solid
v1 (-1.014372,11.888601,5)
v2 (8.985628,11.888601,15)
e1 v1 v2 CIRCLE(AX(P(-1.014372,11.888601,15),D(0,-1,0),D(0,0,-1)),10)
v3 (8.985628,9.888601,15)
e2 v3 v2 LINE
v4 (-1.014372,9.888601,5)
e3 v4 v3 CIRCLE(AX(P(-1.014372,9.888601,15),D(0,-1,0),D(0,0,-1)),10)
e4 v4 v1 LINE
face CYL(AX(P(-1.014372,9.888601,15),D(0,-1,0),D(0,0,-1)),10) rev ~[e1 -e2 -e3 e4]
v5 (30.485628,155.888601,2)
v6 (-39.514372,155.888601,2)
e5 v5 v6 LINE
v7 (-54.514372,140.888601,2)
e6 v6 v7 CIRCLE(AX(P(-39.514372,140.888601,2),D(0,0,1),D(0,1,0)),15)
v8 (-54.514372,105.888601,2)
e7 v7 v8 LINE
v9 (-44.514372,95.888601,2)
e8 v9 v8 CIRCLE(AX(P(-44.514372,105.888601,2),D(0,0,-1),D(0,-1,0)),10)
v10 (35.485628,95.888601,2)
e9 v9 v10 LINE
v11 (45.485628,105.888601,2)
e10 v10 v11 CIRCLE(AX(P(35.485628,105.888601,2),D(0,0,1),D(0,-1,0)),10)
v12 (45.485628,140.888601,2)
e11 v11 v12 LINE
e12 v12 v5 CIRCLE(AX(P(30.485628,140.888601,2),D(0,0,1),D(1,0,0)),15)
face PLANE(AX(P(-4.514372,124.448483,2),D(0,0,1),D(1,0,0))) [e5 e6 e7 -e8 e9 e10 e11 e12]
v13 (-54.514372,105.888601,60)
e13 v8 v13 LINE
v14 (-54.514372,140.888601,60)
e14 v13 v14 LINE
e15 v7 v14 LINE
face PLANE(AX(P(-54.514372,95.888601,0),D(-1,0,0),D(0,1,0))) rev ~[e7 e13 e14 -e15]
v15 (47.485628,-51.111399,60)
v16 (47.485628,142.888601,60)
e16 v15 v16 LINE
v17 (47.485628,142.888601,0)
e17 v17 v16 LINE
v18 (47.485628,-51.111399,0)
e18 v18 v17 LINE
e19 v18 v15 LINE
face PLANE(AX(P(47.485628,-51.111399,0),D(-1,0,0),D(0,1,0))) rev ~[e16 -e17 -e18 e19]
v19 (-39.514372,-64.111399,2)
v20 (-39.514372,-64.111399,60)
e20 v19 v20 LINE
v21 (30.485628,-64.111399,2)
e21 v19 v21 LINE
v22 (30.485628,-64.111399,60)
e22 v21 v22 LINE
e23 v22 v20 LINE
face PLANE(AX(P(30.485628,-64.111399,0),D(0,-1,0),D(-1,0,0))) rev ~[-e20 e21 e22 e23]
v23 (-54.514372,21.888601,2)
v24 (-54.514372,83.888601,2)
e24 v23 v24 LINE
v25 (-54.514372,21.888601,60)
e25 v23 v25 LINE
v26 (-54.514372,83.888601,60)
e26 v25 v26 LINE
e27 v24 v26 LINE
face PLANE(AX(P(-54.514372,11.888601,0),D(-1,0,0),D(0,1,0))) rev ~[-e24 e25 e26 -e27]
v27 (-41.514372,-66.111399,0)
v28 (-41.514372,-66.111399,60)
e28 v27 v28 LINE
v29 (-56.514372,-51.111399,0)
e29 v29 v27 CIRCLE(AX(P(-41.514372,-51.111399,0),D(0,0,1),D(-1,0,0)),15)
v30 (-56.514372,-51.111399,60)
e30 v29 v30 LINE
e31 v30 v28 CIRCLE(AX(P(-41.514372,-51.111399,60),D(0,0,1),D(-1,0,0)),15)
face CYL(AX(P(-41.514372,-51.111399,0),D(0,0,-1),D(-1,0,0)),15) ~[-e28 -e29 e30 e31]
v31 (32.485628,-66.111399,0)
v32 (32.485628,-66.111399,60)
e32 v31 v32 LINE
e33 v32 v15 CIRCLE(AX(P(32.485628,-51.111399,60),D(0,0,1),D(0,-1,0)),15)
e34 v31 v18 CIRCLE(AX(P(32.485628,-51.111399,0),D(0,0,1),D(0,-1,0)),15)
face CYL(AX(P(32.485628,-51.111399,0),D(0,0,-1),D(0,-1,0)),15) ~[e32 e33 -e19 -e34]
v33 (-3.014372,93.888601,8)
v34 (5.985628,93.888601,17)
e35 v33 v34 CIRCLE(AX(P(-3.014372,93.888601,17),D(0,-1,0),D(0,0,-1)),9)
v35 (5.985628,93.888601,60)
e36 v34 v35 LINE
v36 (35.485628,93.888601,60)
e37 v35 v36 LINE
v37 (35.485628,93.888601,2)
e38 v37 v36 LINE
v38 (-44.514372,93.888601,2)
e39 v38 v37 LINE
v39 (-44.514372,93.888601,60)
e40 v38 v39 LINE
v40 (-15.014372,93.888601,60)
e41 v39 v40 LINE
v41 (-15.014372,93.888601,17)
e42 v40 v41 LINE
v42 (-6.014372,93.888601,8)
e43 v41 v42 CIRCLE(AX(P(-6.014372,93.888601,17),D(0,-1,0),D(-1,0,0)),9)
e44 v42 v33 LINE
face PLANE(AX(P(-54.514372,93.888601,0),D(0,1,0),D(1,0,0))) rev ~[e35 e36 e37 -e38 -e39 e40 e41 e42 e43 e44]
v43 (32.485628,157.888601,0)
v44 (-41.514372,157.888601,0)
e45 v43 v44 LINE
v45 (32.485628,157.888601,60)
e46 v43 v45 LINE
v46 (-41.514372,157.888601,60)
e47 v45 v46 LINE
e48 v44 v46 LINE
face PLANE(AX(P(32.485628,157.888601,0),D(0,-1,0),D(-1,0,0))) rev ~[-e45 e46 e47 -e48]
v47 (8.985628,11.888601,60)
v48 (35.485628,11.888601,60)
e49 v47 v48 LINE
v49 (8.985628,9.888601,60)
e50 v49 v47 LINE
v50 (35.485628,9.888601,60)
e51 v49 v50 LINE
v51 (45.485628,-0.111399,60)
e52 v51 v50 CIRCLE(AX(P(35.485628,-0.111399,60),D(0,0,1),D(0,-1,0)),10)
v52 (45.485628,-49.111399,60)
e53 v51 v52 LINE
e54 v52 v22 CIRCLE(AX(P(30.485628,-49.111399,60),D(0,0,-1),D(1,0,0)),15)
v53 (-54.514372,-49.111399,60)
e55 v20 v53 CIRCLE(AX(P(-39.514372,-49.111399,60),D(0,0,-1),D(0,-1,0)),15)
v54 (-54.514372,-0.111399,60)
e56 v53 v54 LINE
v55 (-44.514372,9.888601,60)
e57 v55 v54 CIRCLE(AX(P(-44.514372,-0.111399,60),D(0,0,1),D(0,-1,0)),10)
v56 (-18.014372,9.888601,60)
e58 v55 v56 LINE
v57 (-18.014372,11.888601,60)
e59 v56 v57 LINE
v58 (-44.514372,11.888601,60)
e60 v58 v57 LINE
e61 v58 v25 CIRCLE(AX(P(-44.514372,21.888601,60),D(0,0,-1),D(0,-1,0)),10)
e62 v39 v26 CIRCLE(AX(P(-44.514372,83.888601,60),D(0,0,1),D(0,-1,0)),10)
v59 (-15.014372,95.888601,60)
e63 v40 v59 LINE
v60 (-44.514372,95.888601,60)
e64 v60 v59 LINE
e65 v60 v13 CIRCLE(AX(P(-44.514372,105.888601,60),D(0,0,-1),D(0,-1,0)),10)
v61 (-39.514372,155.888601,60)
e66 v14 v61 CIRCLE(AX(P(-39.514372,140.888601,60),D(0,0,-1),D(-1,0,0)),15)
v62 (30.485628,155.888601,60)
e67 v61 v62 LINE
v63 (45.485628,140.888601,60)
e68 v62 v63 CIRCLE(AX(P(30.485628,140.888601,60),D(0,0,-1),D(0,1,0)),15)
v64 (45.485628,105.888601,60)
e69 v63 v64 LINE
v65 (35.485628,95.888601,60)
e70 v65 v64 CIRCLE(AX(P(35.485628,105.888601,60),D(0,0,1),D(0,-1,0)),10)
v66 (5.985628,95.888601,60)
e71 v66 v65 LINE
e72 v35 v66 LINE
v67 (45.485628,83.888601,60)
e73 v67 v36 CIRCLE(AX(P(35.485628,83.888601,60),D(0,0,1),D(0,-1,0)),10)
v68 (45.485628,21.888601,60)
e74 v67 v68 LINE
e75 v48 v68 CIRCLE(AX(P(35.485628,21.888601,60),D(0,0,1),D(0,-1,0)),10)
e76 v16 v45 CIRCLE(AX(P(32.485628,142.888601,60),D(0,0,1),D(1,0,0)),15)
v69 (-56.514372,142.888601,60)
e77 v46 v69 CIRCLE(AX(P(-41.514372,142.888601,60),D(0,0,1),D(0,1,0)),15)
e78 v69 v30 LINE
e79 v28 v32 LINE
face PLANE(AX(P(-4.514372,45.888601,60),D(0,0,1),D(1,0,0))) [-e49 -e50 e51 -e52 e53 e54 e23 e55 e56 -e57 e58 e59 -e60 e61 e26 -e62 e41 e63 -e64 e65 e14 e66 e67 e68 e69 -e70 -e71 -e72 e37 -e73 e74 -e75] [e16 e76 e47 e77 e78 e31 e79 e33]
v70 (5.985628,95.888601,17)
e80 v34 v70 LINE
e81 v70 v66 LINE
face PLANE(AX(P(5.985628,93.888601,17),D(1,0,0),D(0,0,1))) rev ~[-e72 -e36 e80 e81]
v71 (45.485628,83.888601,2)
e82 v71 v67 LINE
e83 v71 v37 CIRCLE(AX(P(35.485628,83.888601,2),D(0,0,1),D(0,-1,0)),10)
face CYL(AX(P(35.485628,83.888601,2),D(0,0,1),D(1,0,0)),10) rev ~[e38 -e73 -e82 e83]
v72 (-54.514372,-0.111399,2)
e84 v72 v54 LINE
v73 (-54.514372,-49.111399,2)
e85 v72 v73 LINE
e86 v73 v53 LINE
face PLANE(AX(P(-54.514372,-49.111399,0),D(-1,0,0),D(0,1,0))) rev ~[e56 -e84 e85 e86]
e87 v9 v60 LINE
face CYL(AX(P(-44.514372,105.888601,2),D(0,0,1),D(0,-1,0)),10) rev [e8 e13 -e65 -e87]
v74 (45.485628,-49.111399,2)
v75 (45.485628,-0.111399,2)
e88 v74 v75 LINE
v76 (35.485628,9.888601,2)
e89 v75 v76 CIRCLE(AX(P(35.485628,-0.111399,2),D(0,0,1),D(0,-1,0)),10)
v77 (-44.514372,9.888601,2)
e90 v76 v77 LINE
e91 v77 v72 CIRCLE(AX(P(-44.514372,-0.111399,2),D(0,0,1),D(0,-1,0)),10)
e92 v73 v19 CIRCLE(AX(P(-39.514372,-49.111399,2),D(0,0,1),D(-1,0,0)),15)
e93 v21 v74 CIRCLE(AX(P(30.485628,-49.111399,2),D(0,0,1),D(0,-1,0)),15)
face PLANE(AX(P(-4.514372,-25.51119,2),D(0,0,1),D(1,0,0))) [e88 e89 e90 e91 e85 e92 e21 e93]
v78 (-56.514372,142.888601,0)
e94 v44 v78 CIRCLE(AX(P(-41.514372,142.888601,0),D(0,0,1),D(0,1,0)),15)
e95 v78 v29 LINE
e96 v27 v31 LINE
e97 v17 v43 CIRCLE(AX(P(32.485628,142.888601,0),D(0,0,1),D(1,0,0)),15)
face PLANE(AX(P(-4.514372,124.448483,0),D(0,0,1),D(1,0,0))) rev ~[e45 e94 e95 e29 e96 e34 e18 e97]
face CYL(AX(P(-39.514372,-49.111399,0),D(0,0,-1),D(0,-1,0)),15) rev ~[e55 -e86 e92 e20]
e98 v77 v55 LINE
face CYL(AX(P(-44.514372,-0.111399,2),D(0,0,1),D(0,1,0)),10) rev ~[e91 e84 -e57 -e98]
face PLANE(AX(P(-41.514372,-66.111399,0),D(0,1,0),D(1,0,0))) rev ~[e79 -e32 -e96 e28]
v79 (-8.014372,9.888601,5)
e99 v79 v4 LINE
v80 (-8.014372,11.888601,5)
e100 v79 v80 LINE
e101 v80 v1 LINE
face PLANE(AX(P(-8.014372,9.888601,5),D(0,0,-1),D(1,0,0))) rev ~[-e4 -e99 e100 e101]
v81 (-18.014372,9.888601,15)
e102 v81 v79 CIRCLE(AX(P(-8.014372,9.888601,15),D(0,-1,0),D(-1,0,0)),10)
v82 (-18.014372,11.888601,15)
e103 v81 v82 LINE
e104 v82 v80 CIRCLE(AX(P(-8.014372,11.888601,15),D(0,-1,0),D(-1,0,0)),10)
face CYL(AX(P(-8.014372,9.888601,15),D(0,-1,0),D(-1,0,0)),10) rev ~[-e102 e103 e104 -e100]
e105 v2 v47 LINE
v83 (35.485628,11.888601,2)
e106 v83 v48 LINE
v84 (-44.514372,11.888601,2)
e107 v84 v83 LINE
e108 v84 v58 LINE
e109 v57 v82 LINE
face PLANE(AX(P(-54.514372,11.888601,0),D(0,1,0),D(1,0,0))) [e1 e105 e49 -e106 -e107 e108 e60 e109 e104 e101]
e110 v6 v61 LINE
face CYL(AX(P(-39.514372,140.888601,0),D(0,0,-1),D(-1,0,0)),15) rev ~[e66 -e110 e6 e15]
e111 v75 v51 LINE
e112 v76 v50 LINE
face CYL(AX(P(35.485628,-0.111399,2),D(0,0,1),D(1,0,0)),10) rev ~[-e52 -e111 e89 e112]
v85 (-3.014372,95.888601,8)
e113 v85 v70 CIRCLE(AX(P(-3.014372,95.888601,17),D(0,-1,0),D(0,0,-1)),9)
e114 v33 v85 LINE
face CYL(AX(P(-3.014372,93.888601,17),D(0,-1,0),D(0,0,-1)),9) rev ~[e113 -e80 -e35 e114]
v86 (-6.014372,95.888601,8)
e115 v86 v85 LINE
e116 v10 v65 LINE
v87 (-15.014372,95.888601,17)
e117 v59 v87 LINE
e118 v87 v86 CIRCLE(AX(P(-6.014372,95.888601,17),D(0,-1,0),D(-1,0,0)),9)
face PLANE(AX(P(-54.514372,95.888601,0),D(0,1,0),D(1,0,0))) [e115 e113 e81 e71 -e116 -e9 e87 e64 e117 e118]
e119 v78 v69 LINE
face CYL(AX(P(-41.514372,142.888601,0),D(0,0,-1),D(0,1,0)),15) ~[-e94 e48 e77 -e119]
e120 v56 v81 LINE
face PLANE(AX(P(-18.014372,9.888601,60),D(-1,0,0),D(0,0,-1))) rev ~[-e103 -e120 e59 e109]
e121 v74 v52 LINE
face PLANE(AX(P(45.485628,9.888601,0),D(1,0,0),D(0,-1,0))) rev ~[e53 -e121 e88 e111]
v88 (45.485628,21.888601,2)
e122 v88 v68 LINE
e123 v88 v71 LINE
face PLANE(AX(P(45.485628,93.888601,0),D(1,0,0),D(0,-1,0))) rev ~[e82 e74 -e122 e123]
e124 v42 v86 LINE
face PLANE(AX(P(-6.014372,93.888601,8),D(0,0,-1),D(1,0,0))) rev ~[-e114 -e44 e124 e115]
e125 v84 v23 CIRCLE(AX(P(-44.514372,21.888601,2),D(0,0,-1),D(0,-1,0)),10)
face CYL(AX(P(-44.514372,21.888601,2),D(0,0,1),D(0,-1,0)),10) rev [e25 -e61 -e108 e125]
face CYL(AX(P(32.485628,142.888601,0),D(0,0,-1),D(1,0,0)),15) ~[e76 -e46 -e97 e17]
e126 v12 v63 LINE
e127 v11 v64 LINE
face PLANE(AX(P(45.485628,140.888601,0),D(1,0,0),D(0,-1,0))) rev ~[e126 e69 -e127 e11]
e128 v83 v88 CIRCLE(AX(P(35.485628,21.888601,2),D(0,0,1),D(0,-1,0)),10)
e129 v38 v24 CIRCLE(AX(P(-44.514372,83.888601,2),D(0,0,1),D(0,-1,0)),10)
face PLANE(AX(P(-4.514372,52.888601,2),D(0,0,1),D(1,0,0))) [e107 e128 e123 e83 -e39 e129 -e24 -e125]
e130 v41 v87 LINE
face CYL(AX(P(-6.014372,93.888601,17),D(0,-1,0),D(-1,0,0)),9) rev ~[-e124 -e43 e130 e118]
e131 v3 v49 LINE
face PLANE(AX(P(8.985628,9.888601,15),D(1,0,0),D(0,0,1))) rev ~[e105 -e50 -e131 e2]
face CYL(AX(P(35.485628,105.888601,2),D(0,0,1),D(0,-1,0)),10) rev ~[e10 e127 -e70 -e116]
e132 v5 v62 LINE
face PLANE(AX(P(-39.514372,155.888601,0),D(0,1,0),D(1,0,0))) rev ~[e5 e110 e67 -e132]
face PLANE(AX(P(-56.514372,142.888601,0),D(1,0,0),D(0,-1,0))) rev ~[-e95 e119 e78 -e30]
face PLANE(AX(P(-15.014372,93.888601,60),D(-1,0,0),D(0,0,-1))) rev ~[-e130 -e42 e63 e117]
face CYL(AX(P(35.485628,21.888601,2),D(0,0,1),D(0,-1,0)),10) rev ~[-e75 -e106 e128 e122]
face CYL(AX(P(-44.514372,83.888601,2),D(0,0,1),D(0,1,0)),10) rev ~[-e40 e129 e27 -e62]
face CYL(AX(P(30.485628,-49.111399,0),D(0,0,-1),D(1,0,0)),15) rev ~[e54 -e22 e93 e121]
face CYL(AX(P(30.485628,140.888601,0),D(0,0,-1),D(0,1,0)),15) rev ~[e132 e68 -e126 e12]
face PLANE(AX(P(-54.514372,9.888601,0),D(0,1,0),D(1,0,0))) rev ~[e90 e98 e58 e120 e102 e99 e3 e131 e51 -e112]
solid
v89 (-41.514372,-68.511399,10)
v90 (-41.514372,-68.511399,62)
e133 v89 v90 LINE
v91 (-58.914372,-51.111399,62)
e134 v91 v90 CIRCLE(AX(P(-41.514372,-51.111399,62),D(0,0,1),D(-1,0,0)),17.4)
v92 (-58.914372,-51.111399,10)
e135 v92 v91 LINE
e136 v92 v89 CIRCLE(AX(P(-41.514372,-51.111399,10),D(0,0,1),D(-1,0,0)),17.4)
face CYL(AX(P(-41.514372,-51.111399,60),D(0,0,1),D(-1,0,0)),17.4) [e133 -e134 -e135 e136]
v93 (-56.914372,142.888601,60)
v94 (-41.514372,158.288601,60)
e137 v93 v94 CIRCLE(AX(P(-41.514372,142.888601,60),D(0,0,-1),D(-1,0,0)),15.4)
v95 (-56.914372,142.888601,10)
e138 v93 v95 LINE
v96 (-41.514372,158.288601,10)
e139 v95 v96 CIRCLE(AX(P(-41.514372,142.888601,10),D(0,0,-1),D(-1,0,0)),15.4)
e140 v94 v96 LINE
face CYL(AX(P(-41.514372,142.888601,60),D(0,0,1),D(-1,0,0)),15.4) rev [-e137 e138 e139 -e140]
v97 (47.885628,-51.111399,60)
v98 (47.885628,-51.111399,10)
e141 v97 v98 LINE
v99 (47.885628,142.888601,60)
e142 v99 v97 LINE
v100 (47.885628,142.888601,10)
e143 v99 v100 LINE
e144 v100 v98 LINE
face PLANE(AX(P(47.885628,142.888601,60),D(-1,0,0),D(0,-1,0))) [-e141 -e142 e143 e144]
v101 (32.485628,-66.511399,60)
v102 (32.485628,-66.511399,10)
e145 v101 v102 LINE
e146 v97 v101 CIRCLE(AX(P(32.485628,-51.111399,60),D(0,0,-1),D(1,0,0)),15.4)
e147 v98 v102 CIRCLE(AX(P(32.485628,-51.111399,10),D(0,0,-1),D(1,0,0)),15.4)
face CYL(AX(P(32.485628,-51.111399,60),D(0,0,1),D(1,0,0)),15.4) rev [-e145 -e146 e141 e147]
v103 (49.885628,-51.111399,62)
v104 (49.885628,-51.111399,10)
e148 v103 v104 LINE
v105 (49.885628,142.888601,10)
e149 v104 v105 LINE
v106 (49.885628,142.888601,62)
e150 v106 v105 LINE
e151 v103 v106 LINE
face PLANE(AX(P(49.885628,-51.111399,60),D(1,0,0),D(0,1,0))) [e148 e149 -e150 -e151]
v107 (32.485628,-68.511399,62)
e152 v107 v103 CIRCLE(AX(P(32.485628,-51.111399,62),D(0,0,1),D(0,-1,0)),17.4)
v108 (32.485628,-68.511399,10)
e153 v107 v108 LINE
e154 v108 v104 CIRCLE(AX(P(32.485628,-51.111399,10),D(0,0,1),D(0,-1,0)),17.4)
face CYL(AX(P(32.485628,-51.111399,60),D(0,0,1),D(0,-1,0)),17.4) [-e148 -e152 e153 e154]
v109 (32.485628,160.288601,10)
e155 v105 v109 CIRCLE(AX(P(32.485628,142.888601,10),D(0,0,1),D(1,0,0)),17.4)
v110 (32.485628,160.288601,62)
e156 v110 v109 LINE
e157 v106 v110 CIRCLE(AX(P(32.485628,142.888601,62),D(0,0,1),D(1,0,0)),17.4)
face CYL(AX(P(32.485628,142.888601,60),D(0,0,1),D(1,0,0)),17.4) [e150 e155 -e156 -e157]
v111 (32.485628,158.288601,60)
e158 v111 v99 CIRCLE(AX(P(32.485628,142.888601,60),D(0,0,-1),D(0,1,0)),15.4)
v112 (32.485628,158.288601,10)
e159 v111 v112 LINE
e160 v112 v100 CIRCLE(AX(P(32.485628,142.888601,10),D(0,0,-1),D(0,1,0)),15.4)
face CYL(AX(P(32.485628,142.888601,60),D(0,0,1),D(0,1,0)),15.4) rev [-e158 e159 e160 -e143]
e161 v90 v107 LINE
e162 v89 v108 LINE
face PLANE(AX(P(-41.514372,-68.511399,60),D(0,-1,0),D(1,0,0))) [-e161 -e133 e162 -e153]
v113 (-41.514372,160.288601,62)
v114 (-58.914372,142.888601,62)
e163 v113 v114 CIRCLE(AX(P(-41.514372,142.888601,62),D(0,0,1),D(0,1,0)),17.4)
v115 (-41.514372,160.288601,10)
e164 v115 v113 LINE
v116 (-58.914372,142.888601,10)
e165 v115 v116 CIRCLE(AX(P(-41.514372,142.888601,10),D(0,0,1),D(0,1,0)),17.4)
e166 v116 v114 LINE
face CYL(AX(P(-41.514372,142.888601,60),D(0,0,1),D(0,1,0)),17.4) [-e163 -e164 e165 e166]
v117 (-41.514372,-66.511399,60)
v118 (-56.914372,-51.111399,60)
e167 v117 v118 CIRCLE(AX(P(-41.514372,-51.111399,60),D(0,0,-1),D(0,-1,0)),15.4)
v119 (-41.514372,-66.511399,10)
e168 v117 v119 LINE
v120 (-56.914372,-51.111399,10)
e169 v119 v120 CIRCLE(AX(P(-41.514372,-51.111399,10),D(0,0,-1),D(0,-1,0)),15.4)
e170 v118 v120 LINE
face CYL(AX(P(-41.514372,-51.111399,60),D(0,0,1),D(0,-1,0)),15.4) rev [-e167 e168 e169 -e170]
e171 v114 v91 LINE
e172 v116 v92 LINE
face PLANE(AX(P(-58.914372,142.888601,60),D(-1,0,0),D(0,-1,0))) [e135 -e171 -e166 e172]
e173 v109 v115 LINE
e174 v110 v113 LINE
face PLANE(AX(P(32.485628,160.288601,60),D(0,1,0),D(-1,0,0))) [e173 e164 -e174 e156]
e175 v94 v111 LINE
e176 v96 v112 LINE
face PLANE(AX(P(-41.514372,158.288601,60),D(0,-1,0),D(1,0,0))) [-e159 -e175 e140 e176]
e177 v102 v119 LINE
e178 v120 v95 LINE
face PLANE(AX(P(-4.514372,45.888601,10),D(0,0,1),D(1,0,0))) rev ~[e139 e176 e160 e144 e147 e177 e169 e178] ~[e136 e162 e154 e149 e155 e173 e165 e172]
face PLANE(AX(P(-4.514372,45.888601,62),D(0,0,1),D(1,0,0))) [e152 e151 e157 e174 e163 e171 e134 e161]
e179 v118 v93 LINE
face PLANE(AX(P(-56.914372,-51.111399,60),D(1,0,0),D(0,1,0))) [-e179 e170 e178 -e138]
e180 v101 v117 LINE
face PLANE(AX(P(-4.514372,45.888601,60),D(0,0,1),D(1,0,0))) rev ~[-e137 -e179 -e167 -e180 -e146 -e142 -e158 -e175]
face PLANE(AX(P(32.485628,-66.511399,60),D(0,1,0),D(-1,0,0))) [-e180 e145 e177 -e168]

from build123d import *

# Parameters (mm, degrees)
F0_W      = 100
F0_H      = 2
F1_DEPTH  = 60
F0_H_2    = 82
F2_DEPTH  = 2
F4_DEPTH  = 2
F6_DEPTH  = 2
F7_R      = 10
F9_DEPTH  = 2
F10_DEPTH = 50


with BuildPart() as f1:
    # F0 (on Top) → F1 (new body)
    with BuildSketch(Plane.XY):
        with BuildLine():
            ThreePointArc((-41.5143723786, 157.8886009157), (-52.1209740964, 153.4952026335), (-56.5143723786, 142.8886009157))
            Line((-56.5143723786, 142.8886009157), (-56.5143723786, -51.1113990843))
            ThreePointArc((-56.5143723786, -51.1113990843), (-52.1209740964, -61.7180008021), (-41.5143723786, -66.1113990843))
            Line((-41.5143723786, -66.1113990843), (32.4856276214, -66.1113990843))
            ThreePointArc((32.4856276214, -66.1113990843), (43.0922293392, -61.7180008021), (47.4856276214, -51.1113990843))
            Line((47.4856276214, -51.1113990843), (47.4856276214, 142.8886009157))
            ThreePointArc((47.4856276214, 142.8886009157), (43.0922293392, 153.4952026335), (32.4856276214, 157.8886009157))
            Line((32.4856276214, 157.8886009157), (-41.5143723786, 157.8886009157))
        make_face()
        with BuildLine():
            ThreePointArc((-54.5143723786, 140.8886009157), (-50.1209740964, 151.4952026335), (-39.5143723786, 155.8886009157))
            Line((-39.5143723786, 155.8886009157), (30.4856276214, 155.8886009157))
            ThreePointArc((30.4856276214, 155.8886009157), (41.0922293392, 151.4952026335), (45.4856276214, 140.8886009157))
            Line((45.4856276214, 140.8886009157), (45.4856276214, 95.8886009157))
            Line((45.4856276214, 95.8886009157), (45.4856276214, 93.8886009157))
            Line((45.4856276214, 93.8886009157), (45.4856276214, 11.8886009157))
            Line((45.4856276214, 11.8886009157), (45.4856276214, 9.8886009157))
            Line((45.4856276214, 9.8886009157), (45.4856276214, -49.1113990843))
            ThreePointArc((45.4856276214, -49.1113990843), (41.0922293392, -59.7180008021), (30.4856276214, -64.1113990843))
            Line((30.4856276214, -64.1113990843), (-39.5143723786, -64.1113990843))
            ThreePointArc((-39.5143723786, -64.1113990843), (-50.1209740964, -59.7180008021), (-54.5143723786, -49.1113990843))
            Line((-54.5143723786, -49.1113990843), (-54.5143723786, 9.8886009157))
            Line((-54.5143723786, 9.8886009157), (-54.5143723786, 11.8886009157))
            Line((-54.5143723786, 11.8886009157), (-54.5143723786, 93.8886009157))
            Line((-54.5143723786, 93.8886009157), (-54.5143723786, 95.8886009157))
            Line((-54.5143723786, 95.8886009157), (-54.5143723786, 140.8886009157))
        make_face(mode=Mode.SUBTRACT)
        with Locations((-4.5143723786, 94.8886009157)):
            Rectangle(F0_W, F0_H)
        with Locations((-4.5143723786, 10.8886009157)):
            Rectangle(F0_W, F0_H)
    extrude(amount=F1_DEPTH)

    # F0 (on Top) → F2 (join)
    with BuildSketch(Plane.XY):
        with BuildLine():
            Line((30.4856276214, 155.8886009157), (-39.5143723786, 155.8886009157))
            ThreePointArc((-39.5143723786, 155.8886009157), (-50.1209740964, 151.4952026335), (-54.5143723786, 140.8886009157))
            Line((-54.5143723786, 140.8886009157), (-54.5143723786, 95.8886009157))
            Line((-54.5143723786, 95.8886009157), (45.4856276214, 95.8886009157))
            Line((45.4856276214, 95.8886009157), (45.4856276214, 140.8886009157))
            ThreePointArc((45.4856276214, 140.8886009157), (41.0922293392, 151.4952026335), (30.4856276214, 155.8886009157))
        make_face()
        with Locations((-4.5143723786, 52.8886009157)):
            Rectangle(F0_W, F0_H_2)
        with BuildLine():
            Line((45.4856276214, 9.8886009157), (-54.5143723786, 9.8886009157))
            Line((-54.5143723786, 9.8886009157), (-54.5143723786, -49.1113990843))
            ThreePointArc((-54.5143723786, -49.1113990843), (-50.1209740964, -59.7180008021), (-39.5143723786, -64.1113990843))
            Line((-39.5143723786, -64.1113990843), (30.4856276214, -64.1113990843))
            ThreePointArc((30.4856276214, -64.1113990843), (41.0922293392, -59.7180008021), (45.4856276214, -49.1113990843))
            Line((45.4856276214, -49.1113990843), (45.4856276214, 9.8886009157))
        make_face()
    extrude(amount=F2_DEPTH)

    # F3 (on face) → F4 (cut, through all)
    with BuildSketch(Plane.XZ.offset(-9.8886009157)):
        with BuildLine():
            Line((8.9856276214, 60), (-18.0143723786, 60))
            Line((-18.0143723786, 60), (-18.0143723786, 15))
            ThreePointArc((-18.0143723786, 15), (-15.0854401905, 7.9289321881), (-8.0143723786, 5))
            Line((-8.0143723786, 5), (-1.0143723786, 5))
            ThreePointArc((-1.0143723786, 5), (6.0566954333, 7.9289321881), (8.9856276214, 15))
            Line((8.9856276214, 15), (8.9856276214, 60))
        make_face()
    extrude(amount=-F4_DEPTH, mode=Mode.SUBTRACT)

    # F5 (on face) → F6 (cut, through all)
    with BuildSketch(Plane.XZ.offset(-93.8886009157)):
        with BuildLine():
            Line((5.9856276214, 60), (-15.0143723786, 60))
            Line((-15.0143723786, 60), (-15.0143723786, 17))
            ThreePointArc((-15.0143723786, 17), (-12.3783334093, 10.6360389693), (-6.0143723786, 8))
            Line((-6.0143723786, 8), (-3.0143723786, 8))
            ThreePointArc((-3.0143723786, 8), (3.3495886521, 10.6360389693), (5.9856276214, 17))
            Line((5.9856276214, 17), (5.9856276214, 60))
        make_face()
    extrude(amount=-F6_DEPTH, mode=Mode.SUBTRACT)

    # F7
    f7_edges = [f1.edges().sort_by_distance(p)[0] for p in [
        (-54.514372, 9.888601, 31),
        (45.485628, 9.888601, 31),
        (-54.514372, 11.888601, 31),
        (45.485628, 11.888601, 31),
        (-54.514372, 93.888601, 31),
        (45.485628, 93.888601, 31),
        (45.485628, 95.888601, 31),
        (-54.514372, 95.888601, 31),
    ]]
    fillet(f7_edges, radius=F7_R)


with BuildPart() as f9:
    # F8 (on face) → F9 (new body)
    with BuildSketch(Plane.XY.offset(60)):
        with BuildLine():
            Line((32.4856276214, 160.2886009157), (-41.5143723786, 160.2886009157))
            ThreePointArc((-41.5143723786, 160.2886009157), (-53.8180303712, 155.1922589083), (-58.9143723786, 142.8886009157))
            Line((-58.9143723786, 142.8886009157), (-58.9143723786, -51.1113990843))
            ThreePointArc((-58.9143723786, -51.1113990843), (-53.8180303712, -63.415057077), (-41.5143723786, -68.5113990843))
            Line((-41.5143723786, -68.5113990843), (32.4856276214, -68.5113990843))
            ThreePointArc((32.4856276214, -68.5113990843), (44.7892856141, -63.415057077), (49.8856276214, -51.1113990843))
            Line((49.8856276214, -51.1113990843), (49.8856276214, 142.8886009157))
            ThreePointArc((49.8856276214, 142.8886009157), (44.7892856141, 155.1922589083), (32.4856276214, 160.2886009157))
        make_face()
        with BuildLine():
            ThreePointArc((-56.9143723786, 142.8886009157), (-52.4038168089, 153.7780453459), (-41.5143723786, 158.2886009157))
            Line((-41.5143723786, 158.2886009157), (32.4856276214, 158.2886009157))
            ThreePointArc((32.4856276214, 158.2886009157), (43.3750720517, 153.7780453459), (47.8856276214, 142.8886009157))
            Line((47.8856276214, 142.8886009157), (47.8856276214, -51.1113990843))
            ThreePointArc((47.8856276214, -51.1113990843), (43.3750720517, -62.0008435146), (32.4856276214, -66.5113990843))
            Line((32.4856276214, -66.5113990843), (-41.5143723786, -66.5113990843))
            ThreePointArc((-41.5143723786, -66.5113990843), (-52.4038168089, -62.0008435146), (-56.9143723786, -51.1113990843))
            Line((-56.9143723786, -51.1113990843), (-56.9143723786, 142.8886009157))
        make_face(mode=Mode.SUBTRACT)
        with BuildLine():
            Line((32.4856276214, 158.2886009157), (-41.5143723786, 158.2886009157))
            ThreePointArc((-41.5143723786, 158.2886009157), (-52.4038168089, 153.7780453459), (-56.9143723786, 142.8886009157))
            Line((-56.9143723786, 142.8886009157), (-56.9143723786, -51.1113990843))
            ThreePointArc((-56.9143723786, -51.1113990843), (-52.4038168089, -62.0008435146), (-41.5143723786, -66.5113990843))
            Line((-41.5143723786, -66.5113990843), (32.4856276214, -66.5113990843))
            ThreePointArc((32.4856276214, -66.5113990843), (43.3750720517, -62.0008435146), (47.8856276214, -51.1113990843))
            Line((47.8856276214, -51.1113990843), (47.8856276214, 142.8886009157))
            ThreePointArc((47.8856276214, 142.8886009157), (43.3750720517, 153.7780453459), (32.4856276214, 158.2886009157))
        make_face()
        with BuildLine():
            Line((-41.5143723786, 157.8886009157), (32.4856276214, 157.8886009157))
            ThreePointArc((32.4856276214, 157.8886009157), (43.0922293392, 153.4952026335), (47.4856276214, 142.8886009157))
            Line((47.4856276214, 142.8886009157), (47.4856276214, -51.1113990843))
            ThreePointArc((47.4856276214, -51.1113990843), (43.0922293392, -61.7180008021), (32.4856276214, -66.1113990843))
            Line((32.4856276214, -66.1113990843), (-41.5143723786, -66.1113990843))
            ThreePointArc((-41.5143723786, -66.1113990843), (-52.1209740964, -61.7180008021), (-56.5143723786, -51.1113990843))
            Line((-56.5143723786, -51.1113990843), (-56.5143723786, 142.8886009157))
            ThreePointArc((-56.5143723786, 142.8886009157), (-52.1209740964, 153.4952026335), (-41.5143723786, 157.8886009157))
        make_face(mode=Mode.SUBTRACT)
        with BuildLine():
            ThreePointArc((47.4856276214, 142.8886009157), (43.0922293392, 153.4952026335), (32.4856276214, 157.8886009157))
            Line((32.4856276214, 157.8886009157), (-41.5143723786, 157.8886009157))
            ThreePointArc((-41.5143723786, 157.8886009157), (-52.1209740964, 153.4952026335), (-56.5143723786, 142.8886009157))
            Line((-56.5143723786, 142.8886009157), (-56.5143723786, -51.1113990843))
            ThreePointArc((-56.5143723786, -51.1113990843), (-52.1209740964, -61.7180008021), (-41.5143723786, -66.1113990843))
            Line((-41.5143723786, -66.1113990843), (32.4856276214, -66.1113990843))
            ThreePointArc((32.4856276214, -66.1113990843), (43.0922293392, -61.7180008021), (47.4856276214, -51.1113990843))
            Line((47.4856276214, -51.1113990843), (47.4856276214, 142.8886009157))
        make_face()
        with BuildLine():
            ThreePointArc((35.4856276214, 9.8886009157), (42.5566954333, 6.9596687275), (45.4856276214, -0.1113990843))
            Line((45.4856276214, -0.1113990843), (45.4856276214, -49.1113990843))
            ThreePointArc((45.4856276214, -49.1113990843), (41.0922293392, -59.7180008021), (30.4856276214, -64.1113990843))
            Line((30.4856276214, -64.1113990843), (-39.5143723786, -64.1113990843))
            ThreePointArc((-39.5143723786, -64.1113990843), (-50.1209740964, -59.7180008021), (-54.5143723786, -49.1113990843))
            Line((-54.5143723786, -49.1113990843), (-54.5143723786, -0.1113990843))
            ThreePointArc((-54.5143723786, -0.1113990843), (-51.5854401905, 6.9596687275), (-44.5143723786, 9.8886009157))
            Line((-44.5143723786, 9.8886009157), (-18.0143723786, 9.8886009157))
            Line((-18.0143723786, 9.8886009157), (-18.0143723786, 11.8886009157))
            Line((-18.0143723786, 11.8886009157), (-44.5143723786, 11.8886009157))
            ThreePointArc((-44.5143723786, 11.8886009157), (-51.5854401905, 14.8175331038), (-54.5143723786, 21.8886009157))
            Line((-54.5143723786, 21.8886009157), (-54.5143723786, 83.8886009157))
            ThreePointArc((-54.5143723786, 83.8886009157), (-51.5854401905, 90.9596687275), (-44.5143723786, 93.8886009157))
            Line((-44.5143723786, 93.8886009157), (-15.0143723786, 93.8886009157))
            Line((-15.0143723786, 93.8886009157), (-15.0143723786, 95.8886009157))
            Line((-15.0143723786, 95.8886009157), (-44.5143723786, 95.8886009157))
            ThreePointArc((-44.5143723786, 95.8886009157), (-51.5854401905, 98.8175331038), (-54.5143723786, 105.8886009157))
            Line((-54.5143723786, 105.8886009157), (-54.5143723786, 140.8886009157))
            ThreePointArc((-54.5143723786, 140.8886009157), (-50.1209740964, 151.4952026335), (-39.5143723786, 155.8886009157))
            Line((-39.5143723786, 155.8886009157), (30.4856276214, 155.8886009157))
            ThreePointArc((30.4856276214, 155.8886009157), (41.0922293392, 151.4952026335), (45.4856276214, 140.8886009157))
            Line((45.4856276214, 140.8886009157), (45.4856276214, 105.8886009157))
            ThreePointArc((45.4856276214, 105.8886009157), (42.5566954333, 98.8175331038), (35.4856276214, 95.8886009157))
            Line((35.4856276214, 95.8886009157), (5.9856276214, 95.8886009157))
            Line((5.9856276214, 95.8886009157), (5.9856276214, 93.8886009157))
            Line((5.9856276214, 93.8886009157), (35.4856276214, 93.8886009157))
            ThreePointArc((35.4856276214, 93.8886009157), (42.5566954333, 90.9596687275), (45.4856276214, 83.8886009157))
            Line((45.4856276214, 83.8886009157), (45.4856276214, 21.8886009157))
            ThreePointArc((45.4856276214, 21.8886009157), (42.5566954333, 14.8175331038), (35.4856276214, 11.8886009157))
            Line((35.4856276214, 11.8886009157), (8.9856276214, 11.8886009157))
            Line((8.9856276214, 11.8886009157), (8.9856276214, 9.8886009157))
            Line((8.9856276214, 9.8886009157), (35.4856276214, 9.8886009157))
        make_face(mode=Mode.SUBTRACT)
        with BuildLine():
            Line((45.4856276214, -49.1113990843), (45.4856276214, -0.1113990843))
            ThreePointArc((45.4856276214, -0.1113990843), (42.5566954333, 6.9596687275), (35.4856276214, 9.8886009157))
            Line((35.4856276214, 9.8886009157), (8.9856276214, 9.8886009157))
            Line((8.9856276214, 9.8886009157), (8.9856276214, 11.8886009157))
            Line((8.9856276214, 11.8886009157), (35.4856276214, 11.8886009157))
            ThreePointArc((35.4856276214, 11.8886009157), (42.5566954333, 14.8175331038), (45.4856276214, 21.8886009157))
            Line((45.4856276214, 21.8886009157), (45.4856276214, 83.8886009157))
            ThreePointArc((45.4856276214, 83.8886009157), (42.5566954333, 90.9596687275), (35.4856276214, 93.8886009157))
            Line((35.4856276214, 93.8886009157), (5.9856276214, 93.8886009157))
            Line((5.9856276214, 93.8886009157), (5.9856276214, 95.8886009157))
            Line((5.9856276214, 95.8886009157), (35.4856276214, 95.8886009157))
            ThreePointArc((35.4856276214, 95.8886009157), (42.5566954333, 98.8175331038), (45.4856276214, 105.8886009157))
            Line((45.4856276214, 105.8886009157), (45.4856276214, 140.8886009157))
            ThreePointArc((45.4856276214, 140.8886009157), (41.0922293392, 151.4952026335), (30.4856276214, 155.8886009157))
            Line((30.4856276214, 155.8886009157), (-39.5143723786, 155.8886009157))
            ThreePointArc((-39.5143723786, 155.8886009157), (-50.1209740964, 151.4952026335), (-54.5143723786, 140.8886009157))
            Line((-54.5143723786, 140.8886009157), (-54.5143723786, 105.8886009157))
            ThreePointArc((-54.5143723786, 105.8886009157), (-51.5854401905, 98.8175331038), (-44.5143723786, 95.8886009157))
            Line((-44.5143723786, 95.8886009157), (-15.0143723786, 95.8886009157))
            Line((-15.0143723786, 95.8886009157), (-15.0143723786, 93.8886009157))
            Line((-15.0143723786, 93.8886009157), (-44.5143723786, 93.8886009157))
            ThreePointArc((-44.5143723786, 93.8886009157), (-51.5854401905, 90.9596687275), (-54.5143723786, 83.8886009157))
            Line((-54.5143723786, 83.8886009157), (-54.5143723786, 21.8886009157))
            ThreePointArc((-54.5143723786, 21.8886009157), (-51.5854401905, 14.8175331038), (-44.5143723786, 11.8886009157))
            Line((-44.5143723786, 11.8886009157), (-18.0143723786, 11.8886009157))
            Line((-18.0143723786, 11.8886009157), (-18.0143723786, 9.8886009157))
            Line((-18.0143723786, 9.8886009157), (-44.5143723786, 9.8886009157))
            ThreePointArc((-44.5143723786, 9.8886009157), (-51.5854401905, 6.9596687275), (-54.5143723786, -0.1113990843))
            Line((-54.5143723786, -0.1113990843), (-54.5143723786, -49.1113990843))
            ThreePointArc((-54.5143723786, -49.1113990843), (-50.1209740964, -59.7180008021), (-39.5143723786, -64.1113990843))
            Line((-39.5143723786, -64.1113990843), (30.4856276214, -64.1113990843))
            ThreePointArc((30.4856276214, -64.1113990843), (41.0922293392, -59.7180008021), (45.4856276214, -49.1113990843))
        make_face()
    extrude(amount=F9_DEPTH)

    # F8 (on face) → F10 (join)
    with BuildSketch(Plane.XY.offset(60)):
        with BuildLine():
            Line((32.4856276214, 160.2886009157), (-41.5143723786, 160.2886009157))
            ThreePointArc((-41.5143723786, 160.2886009157), (-53.8180303712, 155.1922589083), (-58.9143723786, 142.8886009157))
            Line((-58.9143723786, 142.8886009157), (-58.9143723786, -51.1113990843))
            ThreePointArc((-58.9143723786, -51.1113990843), (-53.8180303712, -63.415057077), (-41.5143723786, -68.5113990843))
            Line((-41.5143723786, -68.5113990843), (32.4856276214, -68.5113990843))
            ThreePointArc((32.4856276214, -68.5113990843), (44.7892856141, -63.415057077), (49.8856276214, -51.1113990843))
            Line((49.8856276214, -51.1113990843), (49.8856276214, 142.8886009157))
            ThreePointArc((49.8856276214, 142.8886009157), (44.7892856141, 155.1922589083), (32.4856276214, 160.2886009157))
        make_face()
        with BuildLine():
            ThreePointArc((-56.9143723786, 142.8886009157), (-52.4038168089, 153.7780453459), (-41.5143723786, 158.2886009157))
            Line((-41.5143723786, 158.2886009157), (32.4856276214, 158.2886009157))
            ThreePointArc((32.4856276214, 158.2886009157), (43.3750720517, 153.7780453459), (47.8856276214, 142.8886009157))
            Line((47.8856276214, 142.8886009157), (47.8856276214, -51.1113990843))
            ThreePointArc((47.8856276214, -51.1113990843), (43.3750720517, -62.0008435146), (32.4856276214, -66.5113990843))
            Line((32.4856276214, -66.5113990843), (-41.5143723786, -66.5113990843))
            ThreePointArc((-41.5143723786, -66.5113990843), (-52.4038168089, -62.0008435146), (-56.9143723786, -51.1113990843))
            Line((-56.9143723786, -51.1113990843), (-56.9143723786, 142.8886009157))
        make_face(mode=Mode.SUBTRACT)
    extrude(amount=-F10_DEPTH)


solid = Compound([f1.part, f9.part])
